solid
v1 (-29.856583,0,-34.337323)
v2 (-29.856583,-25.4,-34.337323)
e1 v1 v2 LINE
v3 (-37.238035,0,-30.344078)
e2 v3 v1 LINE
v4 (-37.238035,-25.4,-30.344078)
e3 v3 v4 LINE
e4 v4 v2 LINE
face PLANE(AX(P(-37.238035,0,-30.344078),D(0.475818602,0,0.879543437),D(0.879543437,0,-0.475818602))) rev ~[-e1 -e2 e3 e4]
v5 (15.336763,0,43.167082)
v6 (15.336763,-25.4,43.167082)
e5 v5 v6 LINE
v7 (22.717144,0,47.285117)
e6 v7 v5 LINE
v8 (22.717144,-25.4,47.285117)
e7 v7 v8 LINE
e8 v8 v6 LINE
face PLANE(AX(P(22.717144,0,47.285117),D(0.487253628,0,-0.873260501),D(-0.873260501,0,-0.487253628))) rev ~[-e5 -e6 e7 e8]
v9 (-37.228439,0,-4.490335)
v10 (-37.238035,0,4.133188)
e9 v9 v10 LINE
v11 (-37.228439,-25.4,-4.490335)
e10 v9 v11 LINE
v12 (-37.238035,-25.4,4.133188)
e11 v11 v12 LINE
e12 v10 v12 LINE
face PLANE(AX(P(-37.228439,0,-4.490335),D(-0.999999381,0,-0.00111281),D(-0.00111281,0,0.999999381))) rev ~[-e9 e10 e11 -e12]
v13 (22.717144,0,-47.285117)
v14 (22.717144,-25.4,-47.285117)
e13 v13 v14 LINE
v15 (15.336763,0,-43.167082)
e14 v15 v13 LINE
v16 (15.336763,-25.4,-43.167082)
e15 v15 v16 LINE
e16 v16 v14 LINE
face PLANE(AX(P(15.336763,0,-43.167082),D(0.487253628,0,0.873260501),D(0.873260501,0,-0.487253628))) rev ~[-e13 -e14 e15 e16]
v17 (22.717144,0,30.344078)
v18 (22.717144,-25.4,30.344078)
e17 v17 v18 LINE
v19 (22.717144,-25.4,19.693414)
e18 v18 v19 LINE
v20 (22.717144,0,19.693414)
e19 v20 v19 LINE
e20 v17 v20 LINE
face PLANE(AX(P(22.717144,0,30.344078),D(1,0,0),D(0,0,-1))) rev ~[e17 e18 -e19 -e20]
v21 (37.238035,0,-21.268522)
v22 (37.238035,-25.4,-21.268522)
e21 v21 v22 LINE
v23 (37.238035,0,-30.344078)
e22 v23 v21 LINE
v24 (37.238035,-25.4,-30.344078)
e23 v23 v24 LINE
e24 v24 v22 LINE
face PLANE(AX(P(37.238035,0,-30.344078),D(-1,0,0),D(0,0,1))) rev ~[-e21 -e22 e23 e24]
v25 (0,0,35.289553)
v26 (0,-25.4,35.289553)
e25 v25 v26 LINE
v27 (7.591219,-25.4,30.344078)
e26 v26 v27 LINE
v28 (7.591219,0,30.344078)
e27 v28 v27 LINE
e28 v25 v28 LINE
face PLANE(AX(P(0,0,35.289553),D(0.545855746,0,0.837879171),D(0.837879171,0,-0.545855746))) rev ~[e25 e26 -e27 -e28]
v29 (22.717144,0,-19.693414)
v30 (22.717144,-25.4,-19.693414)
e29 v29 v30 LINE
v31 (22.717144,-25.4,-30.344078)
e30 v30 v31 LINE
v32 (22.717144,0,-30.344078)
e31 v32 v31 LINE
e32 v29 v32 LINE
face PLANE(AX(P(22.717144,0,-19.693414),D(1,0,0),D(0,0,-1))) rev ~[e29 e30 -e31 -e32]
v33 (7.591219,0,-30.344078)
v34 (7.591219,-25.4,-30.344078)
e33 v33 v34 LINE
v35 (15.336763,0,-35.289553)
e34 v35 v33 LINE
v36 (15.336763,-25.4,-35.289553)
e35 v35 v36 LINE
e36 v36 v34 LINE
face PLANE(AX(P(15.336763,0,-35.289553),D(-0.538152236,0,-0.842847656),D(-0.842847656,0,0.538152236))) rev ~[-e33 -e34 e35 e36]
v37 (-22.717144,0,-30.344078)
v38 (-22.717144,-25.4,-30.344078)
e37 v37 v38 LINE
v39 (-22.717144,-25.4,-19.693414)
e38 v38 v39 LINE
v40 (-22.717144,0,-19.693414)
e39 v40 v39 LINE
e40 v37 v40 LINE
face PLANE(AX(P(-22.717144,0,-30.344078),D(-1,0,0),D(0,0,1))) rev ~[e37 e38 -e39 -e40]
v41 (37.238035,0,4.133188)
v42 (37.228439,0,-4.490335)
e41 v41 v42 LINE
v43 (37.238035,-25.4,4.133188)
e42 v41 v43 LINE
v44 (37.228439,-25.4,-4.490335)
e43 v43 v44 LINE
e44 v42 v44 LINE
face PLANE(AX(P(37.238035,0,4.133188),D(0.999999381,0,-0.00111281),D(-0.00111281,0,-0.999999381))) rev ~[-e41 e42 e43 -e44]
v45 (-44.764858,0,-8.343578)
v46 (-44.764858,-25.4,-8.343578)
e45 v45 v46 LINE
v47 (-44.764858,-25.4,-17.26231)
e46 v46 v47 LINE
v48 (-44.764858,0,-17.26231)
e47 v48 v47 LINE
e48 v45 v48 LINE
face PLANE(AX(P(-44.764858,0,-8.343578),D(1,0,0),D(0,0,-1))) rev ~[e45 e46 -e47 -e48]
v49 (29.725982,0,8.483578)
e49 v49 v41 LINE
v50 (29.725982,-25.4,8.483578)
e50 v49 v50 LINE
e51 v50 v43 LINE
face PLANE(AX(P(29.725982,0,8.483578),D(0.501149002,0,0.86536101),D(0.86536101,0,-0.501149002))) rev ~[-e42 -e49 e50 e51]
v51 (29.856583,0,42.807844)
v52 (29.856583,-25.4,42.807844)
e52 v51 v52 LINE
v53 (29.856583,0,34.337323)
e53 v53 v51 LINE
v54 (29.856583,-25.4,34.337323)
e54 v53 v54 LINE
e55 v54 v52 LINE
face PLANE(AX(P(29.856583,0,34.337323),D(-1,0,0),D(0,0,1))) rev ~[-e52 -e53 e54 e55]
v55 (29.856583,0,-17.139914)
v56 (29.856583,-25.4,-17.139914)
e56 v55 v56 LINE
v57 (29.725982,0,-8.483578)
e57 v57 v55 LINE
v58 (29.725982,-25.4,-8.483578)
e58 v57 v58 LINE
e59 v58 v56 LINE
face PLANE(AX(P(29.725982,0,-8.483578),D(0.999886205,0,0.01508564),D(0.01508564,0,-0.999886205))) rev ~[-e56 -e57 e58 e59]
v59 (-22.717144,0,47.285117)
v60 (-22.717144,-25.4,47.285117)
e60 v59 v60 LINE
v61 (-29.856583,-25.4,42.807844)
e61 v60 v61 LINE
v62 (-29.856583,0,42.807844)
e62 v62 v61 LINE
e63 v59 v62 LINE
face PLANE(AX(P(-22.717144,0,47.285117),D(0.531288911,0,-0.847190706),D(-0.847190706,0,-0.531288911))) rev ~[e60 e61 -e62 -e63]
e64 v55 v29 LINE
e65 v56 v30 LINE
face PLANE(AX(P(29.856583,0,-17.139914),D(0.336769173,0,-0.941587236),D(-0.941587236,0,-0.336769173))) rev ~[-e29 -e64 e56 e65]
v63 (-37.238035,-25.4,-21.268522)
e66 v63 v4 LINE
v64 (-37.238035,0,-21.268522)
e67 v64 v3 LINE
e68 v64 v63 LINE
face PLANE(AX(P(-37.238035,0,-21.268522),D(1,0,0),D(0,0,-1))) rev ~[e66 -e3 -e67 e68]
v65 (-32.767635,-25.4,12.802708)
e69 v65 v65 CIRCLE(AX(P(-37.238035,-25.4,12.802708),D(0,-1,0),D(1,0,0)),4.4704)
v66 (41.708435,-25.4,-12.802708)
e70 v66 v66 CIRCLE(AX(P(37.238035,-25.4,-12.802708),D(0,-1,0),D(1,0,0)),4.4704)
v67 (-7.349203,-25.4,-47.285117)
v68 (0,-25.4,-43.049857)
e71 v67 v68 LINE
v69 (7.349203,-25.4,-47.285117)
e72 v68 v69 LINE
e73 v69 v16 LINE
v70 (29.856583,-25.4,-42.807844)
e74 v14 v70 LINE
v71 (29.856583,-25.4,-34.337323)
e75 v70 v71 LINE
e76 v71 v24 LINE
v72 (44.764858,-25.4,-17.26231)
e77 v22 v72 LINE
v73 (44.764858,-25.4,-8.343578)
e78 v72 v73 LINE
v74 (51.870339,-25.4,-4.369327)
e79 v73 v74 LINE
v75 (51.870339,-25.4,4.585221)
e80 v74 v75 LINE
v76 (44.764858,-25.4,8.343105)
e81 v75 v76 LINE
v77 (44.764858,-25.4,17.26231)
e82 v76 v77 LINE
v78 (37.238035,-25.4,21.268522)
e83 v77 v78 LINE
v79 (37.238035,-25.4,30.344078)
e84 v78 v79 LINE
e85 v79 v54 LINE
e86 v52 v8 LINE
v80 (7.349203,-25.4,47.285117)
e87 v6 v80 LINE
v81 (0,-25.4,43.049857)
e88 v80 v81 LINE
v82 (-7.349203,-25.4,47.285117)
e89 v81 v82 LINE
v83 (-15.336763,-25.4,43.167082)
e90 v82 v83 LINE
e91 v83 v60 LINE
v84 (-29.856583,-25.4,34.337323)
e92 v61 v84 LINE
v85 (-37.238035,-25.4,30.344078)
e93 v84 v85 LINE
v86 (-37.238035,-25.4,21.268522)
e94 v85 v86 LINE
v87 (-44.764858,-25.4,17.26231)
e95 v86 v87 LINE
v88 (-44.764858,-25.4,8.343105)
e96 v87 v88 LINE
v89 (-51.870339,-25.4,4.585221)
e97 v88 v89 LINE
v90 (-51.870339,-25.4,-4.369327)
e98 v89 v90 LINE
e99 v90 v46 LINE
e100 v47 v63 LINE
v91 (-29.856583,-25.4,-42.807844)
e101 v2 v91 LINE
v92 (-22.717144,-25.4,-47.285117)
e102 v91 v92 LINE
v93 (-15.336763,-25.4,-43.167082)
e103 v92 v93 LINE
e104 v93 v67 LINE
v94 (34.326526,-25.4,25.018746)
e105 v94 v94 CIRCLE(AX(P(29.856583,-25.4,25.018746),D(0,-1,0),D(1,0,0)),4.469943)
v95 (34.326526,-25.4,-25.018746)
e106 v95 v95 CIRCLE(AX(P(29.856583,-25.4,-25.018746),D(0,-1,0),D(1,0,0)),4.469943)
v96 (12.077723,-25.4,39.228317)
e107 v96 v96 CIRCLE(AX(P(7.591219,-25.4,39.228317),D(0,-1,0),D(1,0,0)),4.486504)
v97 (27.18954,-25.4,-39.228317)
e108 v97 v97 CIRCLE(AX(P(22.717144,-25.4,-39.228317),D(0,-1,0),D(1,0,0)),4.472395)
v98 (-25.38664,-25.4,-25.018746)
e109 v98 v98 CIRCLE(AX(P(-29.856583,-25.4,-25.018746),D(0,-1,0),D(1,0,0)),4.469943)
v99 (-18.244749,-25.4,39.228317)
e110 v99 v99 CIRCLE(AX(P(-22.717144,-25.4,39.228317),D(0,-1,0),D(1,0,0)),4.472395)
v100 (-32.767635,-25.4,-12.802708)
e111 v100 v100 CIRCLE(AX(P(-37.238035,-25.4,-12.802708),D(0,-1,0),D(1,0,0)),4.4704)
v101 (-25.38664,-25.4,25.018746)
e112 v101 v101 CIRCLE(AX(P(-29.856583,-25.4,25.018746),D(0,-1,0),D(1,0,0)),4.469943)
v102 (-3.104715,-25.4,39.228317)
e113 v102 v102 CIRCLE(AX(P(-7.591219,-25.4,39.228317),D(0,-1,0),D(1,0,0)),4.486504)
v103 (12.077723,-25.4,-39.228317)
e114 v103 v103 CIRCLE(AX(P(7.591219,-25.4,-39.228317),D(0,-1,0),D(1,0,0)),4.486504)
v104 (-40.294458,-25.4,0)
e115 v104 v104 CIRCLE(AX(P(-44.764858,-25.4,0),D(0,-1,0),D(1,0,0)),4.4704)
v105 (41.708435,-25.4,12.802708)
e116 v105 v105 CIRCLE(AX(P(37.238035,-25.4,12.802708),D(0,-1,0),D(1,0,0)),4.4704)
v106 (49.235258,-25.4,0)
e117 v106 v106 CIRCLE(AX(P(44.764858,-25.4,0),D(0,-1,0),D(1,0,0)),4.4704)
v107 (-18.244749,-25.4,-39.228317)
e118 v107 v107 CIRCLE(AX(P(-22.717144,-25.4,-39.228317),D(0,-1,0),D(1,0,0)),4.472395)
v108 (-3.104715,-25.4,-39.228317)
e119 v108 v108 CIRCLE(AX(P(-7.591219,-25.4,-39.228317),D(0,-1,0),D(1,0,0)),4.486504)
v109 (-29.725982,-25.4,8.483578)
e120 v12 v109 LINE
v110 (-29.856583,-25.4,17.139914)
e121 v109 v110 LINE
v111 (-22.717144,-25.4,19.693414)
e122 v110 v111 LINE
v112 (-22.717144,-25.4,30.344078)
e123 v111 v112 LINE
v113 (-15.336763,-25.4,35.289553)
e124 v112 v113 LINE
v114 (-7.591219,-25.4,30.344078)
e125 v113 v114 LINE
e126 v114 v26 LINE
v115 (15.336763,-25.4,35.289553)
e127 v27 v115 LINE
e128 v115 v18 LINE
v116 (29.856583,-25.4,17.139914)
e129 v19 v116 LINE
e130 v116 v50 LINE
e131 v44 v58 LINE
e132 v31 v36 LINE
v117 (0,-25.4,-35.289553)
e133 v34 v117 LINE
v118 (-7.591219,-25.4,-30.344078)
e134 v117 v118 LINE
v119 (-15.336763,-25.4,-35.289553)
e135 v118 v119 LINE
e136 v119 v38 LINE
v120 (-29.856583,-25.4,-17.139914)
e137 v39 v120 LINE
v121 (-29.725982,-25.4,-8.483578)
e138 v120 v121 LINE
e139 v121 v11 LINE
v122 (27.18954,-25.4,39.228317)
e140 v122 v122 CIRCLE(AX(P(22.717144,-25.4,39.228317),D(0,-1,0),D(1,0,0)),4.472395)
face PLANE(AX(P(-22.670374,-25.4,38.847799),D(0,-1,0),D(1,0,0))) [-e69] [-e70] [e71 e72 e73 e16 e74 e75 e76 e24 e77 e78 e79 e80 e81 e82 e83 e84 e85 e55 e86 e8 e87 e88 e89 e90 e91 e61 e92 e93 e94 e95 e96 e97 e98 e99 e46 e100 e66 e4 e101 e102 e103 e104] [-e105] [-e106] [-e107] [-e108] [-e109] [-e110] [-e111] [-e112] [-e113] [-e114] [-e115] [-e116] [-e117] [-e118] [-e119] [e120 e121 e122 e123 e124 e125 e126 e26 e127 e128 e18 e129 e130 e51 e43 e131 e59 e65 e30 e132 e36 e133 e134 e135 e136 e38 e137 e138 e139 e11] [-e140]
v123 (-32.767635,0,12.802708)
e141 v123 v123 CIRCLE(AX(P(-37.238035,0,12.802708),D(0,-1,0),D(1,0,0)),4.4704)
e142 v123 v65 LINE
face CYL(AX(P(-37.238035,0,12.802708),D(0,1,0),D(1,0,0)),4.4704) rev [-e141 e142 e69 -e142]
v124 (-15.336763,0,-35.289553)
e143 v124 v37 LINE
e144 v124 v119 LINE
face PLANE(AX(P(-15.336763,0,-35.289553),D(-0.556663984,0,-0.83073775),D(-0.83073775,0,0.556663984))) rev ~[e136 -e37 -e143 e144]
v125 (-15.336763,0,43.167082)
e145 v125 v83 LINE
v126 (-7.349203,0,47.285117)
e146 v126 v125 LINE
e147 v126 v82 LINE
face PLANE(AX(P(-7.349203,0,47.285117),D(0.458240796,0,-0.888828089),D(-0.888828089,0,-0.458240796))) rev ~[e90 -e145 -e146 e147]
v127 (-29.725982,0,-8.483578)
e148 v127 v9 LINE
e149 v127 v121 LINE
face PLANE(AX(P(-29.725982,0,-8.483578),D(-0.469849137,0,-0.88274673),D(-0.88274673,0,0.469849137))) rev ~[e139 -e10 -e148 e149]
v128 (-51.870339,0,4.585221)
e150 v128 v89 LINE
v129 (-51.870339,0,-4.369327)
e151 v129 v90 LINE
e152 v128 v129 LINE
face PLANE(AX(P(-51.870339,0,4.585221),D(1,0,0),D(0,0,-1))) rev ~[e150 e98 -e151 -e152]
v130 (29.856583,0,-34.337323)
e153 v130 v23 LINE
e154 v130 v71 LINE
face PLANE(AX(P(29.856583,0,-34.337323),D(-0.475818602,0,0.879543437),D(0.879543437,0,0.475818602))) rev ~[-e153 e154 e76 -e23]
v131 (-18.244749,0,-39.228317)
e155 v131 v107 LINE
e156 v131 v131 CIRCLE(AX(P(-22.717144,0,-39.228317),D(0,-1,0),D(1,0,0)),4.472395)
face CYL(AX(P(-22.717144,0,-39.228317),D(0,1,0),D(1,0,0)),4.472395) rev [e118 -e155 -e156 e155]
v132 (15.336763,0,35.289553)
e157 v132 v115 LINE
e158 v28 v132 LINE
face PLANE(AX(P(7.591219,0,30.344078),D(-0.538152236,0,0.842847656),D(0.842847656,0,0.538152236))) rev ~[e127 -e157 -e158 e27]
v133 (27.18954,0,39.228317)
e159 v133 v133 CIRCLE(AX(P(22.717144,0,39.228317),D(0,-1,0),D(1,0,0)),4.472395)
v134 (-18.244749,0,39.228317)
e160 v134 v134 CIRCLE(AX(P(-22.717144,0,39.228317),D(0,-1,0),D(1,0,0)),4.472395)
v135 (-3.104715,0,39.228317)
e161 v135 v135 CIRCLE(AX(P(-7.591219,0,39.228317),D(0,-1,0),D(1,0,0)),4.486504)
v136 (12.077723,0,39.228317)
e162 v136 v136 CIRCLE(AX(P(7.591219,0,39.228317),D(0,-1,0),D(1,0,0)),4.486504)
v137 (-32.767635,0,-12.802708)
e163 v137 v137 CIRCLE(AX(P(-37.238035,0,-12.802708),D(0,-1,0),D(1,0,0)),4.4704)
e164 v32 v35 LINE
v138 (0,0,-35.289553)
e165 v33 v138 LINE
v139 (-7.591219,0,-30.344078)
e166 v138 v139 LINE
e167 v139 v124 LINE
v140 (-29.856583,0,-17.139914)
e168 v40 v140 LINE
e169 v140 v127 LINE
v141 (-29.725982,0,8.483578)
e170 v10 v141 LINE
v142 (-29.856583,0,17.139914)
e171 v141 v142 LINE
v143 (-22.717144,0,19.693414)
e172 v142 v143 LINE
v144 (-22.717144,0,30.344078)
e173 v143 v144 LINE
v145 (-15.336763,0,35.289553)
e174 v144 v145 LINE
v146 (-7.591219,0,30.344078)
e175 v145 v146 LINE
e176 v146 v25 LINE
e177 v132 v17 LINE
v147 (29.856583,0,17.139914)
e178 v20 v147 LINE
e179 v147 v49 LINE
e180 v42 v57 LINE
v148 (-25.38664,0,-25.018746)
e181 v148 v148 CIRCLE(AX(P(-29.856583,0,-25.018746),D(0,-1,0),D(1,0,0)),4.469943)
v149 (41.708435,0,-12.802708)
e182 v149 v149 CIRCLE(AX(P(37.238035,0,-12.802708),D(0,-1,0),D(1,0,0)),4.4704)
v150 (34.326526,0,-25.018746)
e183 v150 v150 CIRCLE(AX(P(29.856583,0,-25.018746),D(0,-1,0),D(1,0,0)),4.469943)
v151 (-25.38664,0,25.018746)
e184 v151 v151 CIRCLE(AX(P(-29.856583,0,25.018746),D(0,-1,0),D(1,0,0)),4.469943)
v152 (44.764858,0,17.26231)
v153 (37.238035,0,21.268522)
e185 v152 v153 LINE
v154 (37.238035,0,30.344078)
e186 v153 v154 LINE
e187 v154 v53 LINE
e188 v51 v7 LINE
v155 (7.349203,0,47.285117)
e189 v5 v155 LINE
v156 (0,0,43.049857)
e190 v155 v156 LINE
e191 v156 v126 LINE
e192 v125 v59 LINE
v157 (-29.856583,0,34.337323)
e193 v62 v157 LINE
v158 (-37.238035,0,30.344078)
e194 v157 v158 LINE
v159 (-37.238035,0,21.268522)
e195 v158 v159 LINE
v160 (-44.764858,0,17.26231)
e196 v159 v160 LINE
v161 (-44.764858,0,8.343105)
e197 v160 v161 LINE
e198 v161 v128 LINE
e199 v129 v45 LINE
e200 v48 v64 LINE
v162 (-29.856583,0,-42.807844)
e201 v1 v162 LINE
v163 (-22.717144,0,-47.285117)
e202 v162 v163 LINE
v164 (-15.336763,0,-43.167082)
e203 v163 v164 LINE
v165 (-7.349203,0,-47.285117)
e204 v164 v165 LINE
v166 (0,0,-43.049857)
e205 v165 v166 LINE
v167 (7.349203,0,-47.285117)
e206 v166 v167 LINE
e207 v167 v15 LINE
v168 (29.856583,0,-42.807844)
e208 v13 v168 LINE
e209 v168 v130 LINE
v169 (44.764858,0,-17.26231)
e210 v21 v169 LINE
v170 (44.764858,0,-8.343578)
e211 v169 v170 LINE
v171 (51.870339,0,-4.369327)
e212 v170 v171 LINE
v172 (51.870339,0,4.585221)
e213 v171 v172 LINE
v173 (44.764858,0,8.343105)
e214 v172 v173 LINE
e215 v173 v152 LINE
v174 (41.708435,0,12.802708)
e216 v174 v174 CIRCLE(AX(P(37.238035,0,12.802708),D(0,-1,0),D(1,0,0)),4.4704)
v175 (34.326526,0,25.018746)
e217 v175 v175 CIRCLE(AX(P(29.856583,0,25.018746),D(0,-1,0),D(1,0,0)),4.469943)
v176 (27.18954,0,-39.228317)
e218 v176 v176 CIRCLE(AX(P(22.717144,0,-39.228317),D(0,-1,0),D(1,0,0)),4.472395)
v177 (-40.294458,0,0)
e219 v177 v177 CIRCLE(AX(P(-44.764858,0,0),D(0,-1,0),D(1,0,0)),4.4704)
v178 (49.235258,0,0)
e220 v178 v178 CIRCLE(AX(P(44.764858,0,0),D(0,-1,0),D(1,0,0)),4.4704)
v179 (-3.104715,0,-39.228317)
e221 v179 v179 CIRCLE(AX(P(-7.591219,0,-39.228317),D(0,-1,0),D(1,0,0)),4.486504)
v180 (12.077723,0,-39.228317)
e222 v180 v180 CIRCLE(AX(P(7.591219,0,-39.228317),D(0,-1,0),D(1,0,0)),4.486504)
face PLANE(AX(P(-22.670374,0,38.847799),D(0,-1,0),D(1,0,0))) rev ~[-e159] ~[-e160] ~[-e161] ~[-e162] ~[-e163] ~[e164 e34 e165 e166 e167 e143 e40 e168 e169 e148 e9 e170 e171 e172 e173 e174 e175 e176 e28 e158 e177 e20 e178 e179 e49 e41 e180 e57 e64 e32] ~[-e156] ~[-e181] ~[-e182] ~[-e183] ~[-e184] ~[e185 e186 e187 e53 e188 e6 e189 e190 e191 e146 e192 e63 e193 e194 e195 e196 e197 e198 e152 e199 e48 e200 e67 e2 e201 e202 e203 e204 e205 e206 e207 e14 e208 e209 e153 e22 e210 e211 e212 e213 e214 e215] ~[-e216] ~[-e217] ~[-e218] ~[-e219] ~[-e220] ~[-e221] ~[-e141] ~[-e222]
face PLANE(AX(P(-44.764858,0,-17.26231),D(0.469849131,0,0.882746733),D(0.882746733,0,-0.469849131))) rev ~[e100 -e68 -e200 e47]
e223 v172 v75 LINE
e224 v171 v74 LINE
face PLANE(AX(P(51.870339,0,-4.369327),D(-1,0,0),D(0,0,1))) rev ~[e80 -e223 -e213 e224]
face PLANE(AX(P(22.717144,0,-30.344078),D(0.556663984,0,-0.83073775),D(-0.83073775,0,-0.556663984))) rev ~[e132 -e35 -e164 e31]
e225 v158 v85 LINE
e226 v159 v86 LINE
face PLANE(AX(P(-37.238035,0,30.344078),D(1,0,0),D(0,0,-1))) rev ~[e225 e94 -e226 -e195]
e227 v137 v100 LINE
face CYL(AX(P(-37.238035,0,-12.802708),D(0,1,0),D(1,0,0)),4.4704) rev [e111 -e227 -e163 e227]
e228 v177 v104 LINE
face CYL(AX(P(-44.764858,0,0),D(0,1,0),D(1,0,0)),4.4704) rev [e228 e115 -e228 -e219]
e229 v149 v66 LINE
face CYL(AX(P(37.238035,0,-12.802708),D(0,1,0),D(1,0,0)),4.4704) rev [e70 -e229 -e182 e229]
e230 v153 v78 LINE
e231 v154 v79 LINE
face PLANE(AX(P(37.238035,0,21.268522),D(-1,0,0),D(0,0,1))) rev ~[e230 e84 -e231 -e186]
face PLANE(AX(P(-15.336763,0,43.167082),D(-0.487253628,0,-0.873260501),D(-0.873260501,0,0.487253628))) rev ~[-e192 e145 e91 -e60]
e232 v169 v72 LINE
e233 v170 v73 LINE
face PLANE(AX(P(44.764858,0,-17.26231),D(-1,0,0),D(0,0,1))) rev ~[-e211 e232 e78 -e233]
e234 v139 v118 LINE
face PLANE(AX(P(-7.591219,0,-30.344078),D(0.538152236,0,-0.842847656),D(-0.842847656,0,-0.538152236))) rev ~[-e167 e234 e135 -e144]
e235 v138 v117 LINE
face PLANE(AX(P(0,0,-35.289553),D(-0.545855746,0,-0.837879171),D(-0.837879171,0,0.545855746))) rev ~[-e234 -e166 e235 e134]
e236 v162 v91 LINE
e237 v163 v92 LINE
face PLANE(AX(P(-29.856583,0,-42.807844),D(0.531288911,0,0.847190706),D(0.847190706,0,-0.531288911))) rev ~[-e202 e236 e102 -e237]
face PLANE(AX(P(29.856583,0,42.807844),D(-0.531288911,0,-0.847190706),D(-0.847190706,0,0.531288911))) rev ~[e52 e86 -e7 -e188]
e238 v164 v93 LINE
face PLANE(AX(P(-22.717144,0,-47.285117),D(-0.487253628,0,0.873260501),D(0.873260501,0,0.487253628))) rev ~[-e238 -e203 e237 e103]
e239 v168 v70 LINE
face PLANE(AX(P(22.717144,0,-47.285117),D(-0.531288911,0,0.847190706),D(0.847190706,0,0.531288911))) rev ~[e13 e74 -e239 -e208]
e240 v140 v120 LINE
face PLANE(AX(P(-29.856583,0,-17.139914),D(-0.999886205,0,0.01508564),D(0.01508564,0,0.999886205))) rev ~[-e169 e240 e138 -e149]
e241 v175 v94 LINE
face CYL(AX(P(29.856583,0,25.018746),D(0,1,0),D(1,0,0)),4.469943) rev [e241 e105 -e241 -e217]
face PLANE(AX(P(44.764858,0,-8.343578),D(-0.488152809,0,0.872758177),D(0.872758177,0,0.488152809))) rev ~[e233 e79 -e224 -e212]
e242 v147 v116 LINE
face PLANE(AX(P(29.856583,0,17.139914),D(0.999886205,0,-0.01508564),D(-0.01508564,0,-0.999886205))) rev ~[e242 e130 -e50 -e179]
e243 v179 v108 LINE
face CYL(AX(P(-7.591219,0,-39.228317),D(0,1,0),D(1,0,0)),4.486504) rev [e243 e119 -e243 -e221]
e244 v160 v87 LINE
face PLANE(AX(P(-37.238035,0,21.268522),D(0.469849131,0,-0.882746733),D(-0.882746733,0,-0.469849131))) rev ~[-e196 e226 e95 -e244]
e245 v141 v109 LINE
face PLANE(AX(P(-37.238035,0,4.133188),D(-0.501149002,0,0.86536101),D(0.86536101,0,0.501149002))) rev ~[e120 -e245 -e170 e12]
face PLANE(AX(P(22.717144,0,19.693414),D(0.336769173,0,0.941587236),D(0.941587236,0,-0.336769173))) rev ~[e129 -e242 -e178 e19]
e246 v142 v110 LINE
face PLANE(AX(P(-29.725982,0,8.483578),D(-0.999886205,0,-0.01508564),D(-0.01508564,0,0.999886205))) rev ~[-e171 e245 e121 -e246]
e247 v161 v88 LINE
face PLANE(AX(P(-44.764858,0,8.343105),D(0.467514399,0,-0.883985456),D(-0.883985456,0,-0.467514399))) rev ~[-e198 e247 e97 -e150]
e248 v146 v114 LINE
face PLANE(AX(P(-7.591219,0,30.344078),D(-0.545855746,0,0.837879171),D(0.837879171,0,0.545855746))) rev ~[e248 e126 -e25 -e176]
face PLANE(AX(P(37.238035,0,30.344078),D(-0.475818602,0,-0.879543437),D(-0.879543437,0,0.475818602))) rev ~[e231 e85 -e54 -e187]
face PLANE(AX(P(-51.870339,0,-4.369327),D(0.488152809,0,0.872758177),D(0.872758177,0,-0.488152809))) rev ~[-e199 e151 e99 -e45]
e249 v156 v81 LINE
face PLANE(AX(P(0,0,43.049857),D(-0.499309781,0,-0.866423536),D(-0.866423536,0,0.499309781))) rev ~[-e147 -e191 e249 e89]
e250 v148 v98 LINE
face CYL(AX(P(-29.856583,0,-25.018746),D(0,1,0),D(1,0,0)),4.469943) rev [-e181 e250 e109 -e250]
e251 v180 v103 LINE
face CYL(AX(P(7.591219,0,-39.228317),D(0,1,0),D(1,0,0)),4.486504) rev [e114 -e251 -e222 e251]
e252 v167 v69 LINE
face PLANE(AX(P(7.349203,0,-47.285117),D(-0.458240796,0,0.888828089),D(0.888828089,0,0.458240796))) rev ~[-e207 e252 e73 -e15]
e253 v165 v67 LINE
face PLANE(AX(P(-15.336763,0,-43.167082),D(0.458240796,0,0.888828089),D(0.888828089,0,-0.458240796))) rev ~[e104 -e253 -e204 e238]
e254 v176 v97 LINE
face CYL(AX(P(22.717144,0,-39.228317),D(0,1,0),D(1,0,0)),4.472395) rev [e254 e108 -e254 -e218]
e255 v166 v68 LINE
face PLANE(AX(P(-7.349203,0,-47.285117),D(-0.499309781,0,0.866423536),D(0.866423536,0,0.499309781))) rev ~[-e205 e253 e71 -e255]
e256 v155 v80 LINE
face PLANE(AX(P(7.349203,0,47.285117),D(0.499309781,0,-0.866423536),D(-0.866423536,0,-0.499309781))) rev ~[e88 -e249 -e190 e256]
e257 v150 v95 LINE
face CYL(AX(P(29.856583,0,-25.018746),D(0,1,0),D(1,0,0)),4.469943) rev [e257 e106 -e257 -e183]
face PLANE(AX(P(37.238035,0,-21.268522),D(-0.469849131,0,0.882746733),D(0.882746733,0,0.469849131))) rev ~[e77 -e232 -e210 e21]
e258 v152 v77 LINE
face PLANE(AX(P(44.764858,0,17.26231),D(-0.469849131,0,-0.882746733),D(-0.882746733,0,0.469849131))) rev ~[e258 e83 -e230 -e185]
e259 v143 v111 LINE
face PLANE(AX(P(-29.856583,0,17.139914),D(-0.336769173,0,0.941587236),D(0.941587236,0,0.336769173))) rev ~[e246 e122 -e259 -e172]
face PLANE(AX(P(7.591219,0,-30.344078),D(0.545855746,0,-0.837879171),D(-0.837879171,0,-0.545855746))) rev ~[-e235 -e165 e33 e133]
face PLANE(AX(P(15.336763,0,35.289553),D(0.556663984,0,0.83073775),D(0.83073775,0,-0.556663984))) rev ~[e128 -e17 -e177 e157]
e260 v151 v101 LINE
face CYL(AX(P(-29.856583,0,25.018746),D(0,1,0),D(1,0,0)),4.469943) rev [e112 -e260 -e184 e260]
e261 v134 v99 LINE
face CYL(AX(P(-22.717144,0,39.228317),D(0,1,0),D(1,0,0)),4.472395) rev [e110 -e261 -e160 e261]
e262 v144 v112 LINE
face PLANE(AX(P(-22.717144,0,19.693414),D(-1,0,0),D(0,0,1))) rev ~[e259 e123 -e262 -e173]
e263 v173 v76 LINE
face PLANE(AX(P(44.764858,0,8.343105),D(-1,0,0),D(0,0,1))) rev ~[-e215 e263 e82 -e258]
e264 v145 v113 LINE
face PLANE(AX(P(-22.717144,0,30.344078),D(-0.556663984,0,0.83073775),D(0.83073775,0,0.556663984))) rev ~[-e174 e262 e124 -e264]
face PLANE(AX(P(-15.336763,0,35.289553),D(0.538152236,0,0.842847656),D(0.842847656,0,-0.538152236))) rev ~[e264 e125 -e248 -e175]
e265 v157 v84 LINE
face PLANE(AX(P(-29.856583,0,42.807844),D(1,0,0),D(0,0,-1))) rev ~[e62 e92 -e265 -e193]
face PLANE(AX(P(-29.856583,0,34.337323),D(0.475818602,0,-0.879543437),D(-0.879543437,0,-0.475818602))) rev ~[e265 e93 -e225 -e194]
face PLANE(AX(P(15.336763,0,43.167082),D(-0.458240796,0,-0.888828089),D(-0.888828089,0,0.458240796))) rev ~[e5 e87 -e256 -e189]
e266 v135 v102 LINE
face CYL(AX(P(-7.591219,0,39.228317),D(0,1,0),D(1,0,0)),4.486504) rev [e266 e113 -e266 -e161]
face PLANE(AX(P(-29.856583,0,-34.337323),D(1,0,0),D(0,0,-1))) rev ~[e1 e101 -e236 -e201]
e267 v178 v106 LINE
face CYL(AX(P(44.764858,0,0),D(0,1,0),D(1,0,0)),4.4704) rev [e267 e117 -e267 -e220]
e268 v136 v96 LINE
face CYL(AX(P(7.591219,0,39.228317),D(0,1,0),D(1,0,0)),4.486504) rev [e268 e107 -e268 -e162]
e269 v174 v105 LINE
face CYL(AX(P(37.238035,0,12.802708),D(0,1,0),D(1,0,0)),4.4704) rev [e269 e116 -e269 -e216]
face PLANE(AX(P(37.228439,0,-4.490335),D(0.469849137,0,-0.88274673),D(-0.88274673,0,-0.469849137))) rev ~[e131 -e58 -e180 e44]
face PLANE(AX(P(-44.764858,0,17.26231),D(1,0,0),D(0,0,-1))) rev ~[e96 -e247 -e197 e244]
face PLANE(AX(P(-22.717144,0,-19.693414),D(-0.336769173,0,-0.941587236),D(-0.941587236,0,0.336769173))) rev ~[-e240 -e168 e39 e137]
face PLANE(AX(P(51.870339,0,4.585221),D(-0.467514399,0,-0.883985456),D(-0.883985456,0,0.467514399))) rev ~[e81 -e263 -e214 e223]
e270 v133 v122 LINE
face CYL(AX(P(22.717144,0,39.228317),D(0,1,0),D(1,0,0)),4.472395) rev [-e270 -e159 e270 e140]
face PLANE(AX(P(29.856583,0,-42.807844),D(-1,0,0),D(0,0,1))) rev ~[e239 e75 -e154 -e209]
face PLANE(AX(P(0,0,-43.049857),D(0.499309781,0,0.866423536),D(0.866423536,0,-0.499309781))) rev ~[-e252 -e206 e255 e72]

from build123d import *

# Parameters (mm, degrees)
F0_R     = 4.4723953016
F0_R_2   = 4.4699433495
F0_R_3   = 4.4865038471
F0_R_4   = 4.4704
F1_DEPTH = 25.4


with BuildPart() as f1:
    # F0 (on Front) → F1 (new body)
    with BuildSketch(Plane.XZ):
        Polygon((-29.8565831035, 42.8078435361), (-29.8565831035, 34.337323159), (-22.7171443403, 30.3440783173), (-15.336762752, 35.2895531338), (-15.336762752, 43.1670817552), (-22.7171443403, 47.285117209), align=None)
        with Locations((-22.7171443403, 39.2283174445)):
            Circle(F0_R, mode=Mode.SUBTRACT)
        Polygon((-22.7171443403, 30.3440783173), (-29.8565831035, 34.337323159), (-37.238035351, 30.3440783173), (-37.238035351, 21.2685223682), (-29.8565831035, 17.1399140715), (-22.7171443403, 19.6934139464), align=None)
        with Locations((-29.8565831035, 25.0187461318)):
            Circle(F0_R_2, mode=Mode.SUBTRACT)
        Polygon((-15.336762752, 43.1670817552), (-15.336762752, 35.2895531338), (-7.5912186876, 30.3440783173), (0, 35.2895531338), (0, 43.0498570204), (-7.3492033407, 47.285117209), align=None)
        with Locations((-7.5912186876, 39.2283174445)):
            Circle(F0_R_3, mode=Mode.SUBTRACT)
        Polygon((-29.8565831035, 17.1399140715), (-37.238035351, 21.2685223682), (-44.7648577392, 17.2623099094), (-44.7648577392, 8.3431052044), (-37.238035351, 4.1331881966), (-29.7259818762, 8.483578451), align=None)
        with Locations((-37.238035351, 12.8027075569)):
            Circle(F0_R_4, mode=Mode.SUBTRACT)
        Polygon((0, 43.0498570204), (0, 35.2895531338), (7.5912186876, 30.3440783173), (15.336762752, 35.2895531338), (15.336762752, 43.1670817552), (7.3492033407, 47.285117209), align=None)
        with Locations((7.5912186876, 39.2283174445)):
            Circle(F0_R_3, mode=Mode.SUBTRACT)
        Polygon((-37.238035351, 4.1331881966), (-44.7648577392, 8.3431052044), (-51.8703386188, 4.5852214098), (-51.8703386188, -4.3693268672), (-44.7648577392, -8.343578319), (-37.2284390032, -4.4903345406), align=None)
        with Locations((-44.7648577392, 0)):
            Circle(F0_R_4, mode=Mode.SUBTRACT)
        Polygon((15.336762752, 43.1670817552), (15.336762752, 35.2895531338), (22.7171443403, 30.3440783173), (29.8565831035, 34.337323159), (29.8565831035, 42.8078435361), (22.7171443403, 47.285117209), align=None)
        with Locations((22.7171443403, 39.2283174445)):
            Circle(F0_R, mode=Mode.SUBTRACT)
        Polygon((-29.7259818762, -8.483578451), (-37.2284390032, -4.4903345406), (-44.7648577392, -8.343578319), (-44.7648577392, -17.2623099094), (-37.238035351, -21.2685223682), (-29.8565831035, -17.1399140715), align=None)
        with Locations((-37.238035351, -12.8027075569)):
            Circle(F0_R_4, mode=Mode.SUBTRACT)
        Polygon((29.8565831035, 34.337323159), (22.7171443403, 30.3440783173), (22.7171443403, 19.6934139464), (29.8565831035, 17.1399140715), (37.238035351, 21.2685223682), (37.238035351, 30.3440783173), align=None)
        with Locations((29.8565831035, 25.0187461318)):
            Circle(F0_R_2, mode=Mode.SUBTRACT)
        Polygon((-22.7171443403, -19.6934139464), (-29.8565831035, -17.1399140715), (-37.238035351, -21.2685223682), (-37.238035351, -30.3440783173), (-29.8565831035, -34.337323159), (-22.7171443403, -30.3440783173), align=None)
        with Locations((-29.8565831035, -25.0187461318)):
            Circle(F0_R_2, mode=Mode.SUBTRACT)
        Polygon((37.238035351, 21.2685223682), (29.8565831035, 17.1399140715), (29.7259818762, 8.483578451), (37.238035351, 4.1331881966), (44.7648577392, 8.3431052044), (44.7648577392, 17.2623099094), align=None)
        with Locations((37.238035351, 12.8027075569)):
            Circle(F0_R_4, mode=Mode.SUBTRACT)
        Polygon((-15.336762752, -35.2895531338), (-22.7171443403, -30.3440783173), (-29.8565831035, -34.337323159), (-29.8565831035, -42.8078435361), (-22.7171443403, -47.285117209), (-15.336762752, -43.1670817552), align=None)
        with Locations((-22.7171443403, -39.2283174445)):
            Circle(F0_R, mode=Mode.SUBTRACT)
        Polygon((0, -35.2895531338), (-7.5912186876, -30.3440783173), (-15.336762752, -35.2895531338), (-15.336762752, -43.1670817552), (-7.3492033407, -47.285117209), (0, -43.0498570204), align=None)
        with Locations((-7.5912186876, -39.2283174445)):
            Circle(F0_R_3, mode=Mode.SUBTRACT)
        Polygon((15.336762752, -35.2895531338), (7.5912186876, -30.3440783173), (0, -35.2895531338), (0, -43.0498570204), (7.3492033407, -47.285117209), (15.336762752, -43.1670817552), align=None)
        with Locations((7.5912186876, -39.2283174445)):
            Circle(F0_R_3, mode=Mode.SUBTRACT)
        Polygon((44.7648577392, 8.3431052044), (37.238035351, 4.1331881966), (37.2284390032, -4.4903345406), (44.7648577392, -8.343578319), (51.8703386188, -4.3693268672), (51.8703386188, 4.5852214098), align=None)
        with Locations((44.7648577392, 0)):
            Circle(F0_R_4, mode=Mode.SUBTRACT)
        Polygon((37.2284390032, -4.4903345406), (29.7259818762, -8.483578451), (29.8565831035, -17.1399140715), (37.238035351, -21.2685223682), (44.7648577392, -17.2623099094), (44.7648577392, -8.343578319), align=None)
        with Locations((37.238035351, -12.8027075569)):
            Circle(F0_R_4, mode=Mode.SUBTRACT)
        Polygon((29.8565831035, -17.1399140715), (22.7171443403, -19.6934139464), (22.7171443403, -30.3440783173), (29.8565831035, -34.337323159), (37.238035351, -30.3440783173), (37.238035351, -21.2685223682), align=None)
        with Locations((29.8565831035, -25.0187461318)):
            Circle(F0_R_2, mode=Mode.SUBTRACT)
        Polygon((22.7171443403, -30.3440783173), (15.336762752, -35.2895531338), (15.336762752, -43.1670817552), (22.7171443403, -47.285117209), (29.8565831035, -42.8078435361), (29.8565831035, -34.337323159), align=None)
        with Locations((22.7171443403, -39.2283174445)):
            Circle(F0_R, mode=Mode.SUBTRACT)
    extrude(amount=F1_DEPTH)


solid = f1.part
